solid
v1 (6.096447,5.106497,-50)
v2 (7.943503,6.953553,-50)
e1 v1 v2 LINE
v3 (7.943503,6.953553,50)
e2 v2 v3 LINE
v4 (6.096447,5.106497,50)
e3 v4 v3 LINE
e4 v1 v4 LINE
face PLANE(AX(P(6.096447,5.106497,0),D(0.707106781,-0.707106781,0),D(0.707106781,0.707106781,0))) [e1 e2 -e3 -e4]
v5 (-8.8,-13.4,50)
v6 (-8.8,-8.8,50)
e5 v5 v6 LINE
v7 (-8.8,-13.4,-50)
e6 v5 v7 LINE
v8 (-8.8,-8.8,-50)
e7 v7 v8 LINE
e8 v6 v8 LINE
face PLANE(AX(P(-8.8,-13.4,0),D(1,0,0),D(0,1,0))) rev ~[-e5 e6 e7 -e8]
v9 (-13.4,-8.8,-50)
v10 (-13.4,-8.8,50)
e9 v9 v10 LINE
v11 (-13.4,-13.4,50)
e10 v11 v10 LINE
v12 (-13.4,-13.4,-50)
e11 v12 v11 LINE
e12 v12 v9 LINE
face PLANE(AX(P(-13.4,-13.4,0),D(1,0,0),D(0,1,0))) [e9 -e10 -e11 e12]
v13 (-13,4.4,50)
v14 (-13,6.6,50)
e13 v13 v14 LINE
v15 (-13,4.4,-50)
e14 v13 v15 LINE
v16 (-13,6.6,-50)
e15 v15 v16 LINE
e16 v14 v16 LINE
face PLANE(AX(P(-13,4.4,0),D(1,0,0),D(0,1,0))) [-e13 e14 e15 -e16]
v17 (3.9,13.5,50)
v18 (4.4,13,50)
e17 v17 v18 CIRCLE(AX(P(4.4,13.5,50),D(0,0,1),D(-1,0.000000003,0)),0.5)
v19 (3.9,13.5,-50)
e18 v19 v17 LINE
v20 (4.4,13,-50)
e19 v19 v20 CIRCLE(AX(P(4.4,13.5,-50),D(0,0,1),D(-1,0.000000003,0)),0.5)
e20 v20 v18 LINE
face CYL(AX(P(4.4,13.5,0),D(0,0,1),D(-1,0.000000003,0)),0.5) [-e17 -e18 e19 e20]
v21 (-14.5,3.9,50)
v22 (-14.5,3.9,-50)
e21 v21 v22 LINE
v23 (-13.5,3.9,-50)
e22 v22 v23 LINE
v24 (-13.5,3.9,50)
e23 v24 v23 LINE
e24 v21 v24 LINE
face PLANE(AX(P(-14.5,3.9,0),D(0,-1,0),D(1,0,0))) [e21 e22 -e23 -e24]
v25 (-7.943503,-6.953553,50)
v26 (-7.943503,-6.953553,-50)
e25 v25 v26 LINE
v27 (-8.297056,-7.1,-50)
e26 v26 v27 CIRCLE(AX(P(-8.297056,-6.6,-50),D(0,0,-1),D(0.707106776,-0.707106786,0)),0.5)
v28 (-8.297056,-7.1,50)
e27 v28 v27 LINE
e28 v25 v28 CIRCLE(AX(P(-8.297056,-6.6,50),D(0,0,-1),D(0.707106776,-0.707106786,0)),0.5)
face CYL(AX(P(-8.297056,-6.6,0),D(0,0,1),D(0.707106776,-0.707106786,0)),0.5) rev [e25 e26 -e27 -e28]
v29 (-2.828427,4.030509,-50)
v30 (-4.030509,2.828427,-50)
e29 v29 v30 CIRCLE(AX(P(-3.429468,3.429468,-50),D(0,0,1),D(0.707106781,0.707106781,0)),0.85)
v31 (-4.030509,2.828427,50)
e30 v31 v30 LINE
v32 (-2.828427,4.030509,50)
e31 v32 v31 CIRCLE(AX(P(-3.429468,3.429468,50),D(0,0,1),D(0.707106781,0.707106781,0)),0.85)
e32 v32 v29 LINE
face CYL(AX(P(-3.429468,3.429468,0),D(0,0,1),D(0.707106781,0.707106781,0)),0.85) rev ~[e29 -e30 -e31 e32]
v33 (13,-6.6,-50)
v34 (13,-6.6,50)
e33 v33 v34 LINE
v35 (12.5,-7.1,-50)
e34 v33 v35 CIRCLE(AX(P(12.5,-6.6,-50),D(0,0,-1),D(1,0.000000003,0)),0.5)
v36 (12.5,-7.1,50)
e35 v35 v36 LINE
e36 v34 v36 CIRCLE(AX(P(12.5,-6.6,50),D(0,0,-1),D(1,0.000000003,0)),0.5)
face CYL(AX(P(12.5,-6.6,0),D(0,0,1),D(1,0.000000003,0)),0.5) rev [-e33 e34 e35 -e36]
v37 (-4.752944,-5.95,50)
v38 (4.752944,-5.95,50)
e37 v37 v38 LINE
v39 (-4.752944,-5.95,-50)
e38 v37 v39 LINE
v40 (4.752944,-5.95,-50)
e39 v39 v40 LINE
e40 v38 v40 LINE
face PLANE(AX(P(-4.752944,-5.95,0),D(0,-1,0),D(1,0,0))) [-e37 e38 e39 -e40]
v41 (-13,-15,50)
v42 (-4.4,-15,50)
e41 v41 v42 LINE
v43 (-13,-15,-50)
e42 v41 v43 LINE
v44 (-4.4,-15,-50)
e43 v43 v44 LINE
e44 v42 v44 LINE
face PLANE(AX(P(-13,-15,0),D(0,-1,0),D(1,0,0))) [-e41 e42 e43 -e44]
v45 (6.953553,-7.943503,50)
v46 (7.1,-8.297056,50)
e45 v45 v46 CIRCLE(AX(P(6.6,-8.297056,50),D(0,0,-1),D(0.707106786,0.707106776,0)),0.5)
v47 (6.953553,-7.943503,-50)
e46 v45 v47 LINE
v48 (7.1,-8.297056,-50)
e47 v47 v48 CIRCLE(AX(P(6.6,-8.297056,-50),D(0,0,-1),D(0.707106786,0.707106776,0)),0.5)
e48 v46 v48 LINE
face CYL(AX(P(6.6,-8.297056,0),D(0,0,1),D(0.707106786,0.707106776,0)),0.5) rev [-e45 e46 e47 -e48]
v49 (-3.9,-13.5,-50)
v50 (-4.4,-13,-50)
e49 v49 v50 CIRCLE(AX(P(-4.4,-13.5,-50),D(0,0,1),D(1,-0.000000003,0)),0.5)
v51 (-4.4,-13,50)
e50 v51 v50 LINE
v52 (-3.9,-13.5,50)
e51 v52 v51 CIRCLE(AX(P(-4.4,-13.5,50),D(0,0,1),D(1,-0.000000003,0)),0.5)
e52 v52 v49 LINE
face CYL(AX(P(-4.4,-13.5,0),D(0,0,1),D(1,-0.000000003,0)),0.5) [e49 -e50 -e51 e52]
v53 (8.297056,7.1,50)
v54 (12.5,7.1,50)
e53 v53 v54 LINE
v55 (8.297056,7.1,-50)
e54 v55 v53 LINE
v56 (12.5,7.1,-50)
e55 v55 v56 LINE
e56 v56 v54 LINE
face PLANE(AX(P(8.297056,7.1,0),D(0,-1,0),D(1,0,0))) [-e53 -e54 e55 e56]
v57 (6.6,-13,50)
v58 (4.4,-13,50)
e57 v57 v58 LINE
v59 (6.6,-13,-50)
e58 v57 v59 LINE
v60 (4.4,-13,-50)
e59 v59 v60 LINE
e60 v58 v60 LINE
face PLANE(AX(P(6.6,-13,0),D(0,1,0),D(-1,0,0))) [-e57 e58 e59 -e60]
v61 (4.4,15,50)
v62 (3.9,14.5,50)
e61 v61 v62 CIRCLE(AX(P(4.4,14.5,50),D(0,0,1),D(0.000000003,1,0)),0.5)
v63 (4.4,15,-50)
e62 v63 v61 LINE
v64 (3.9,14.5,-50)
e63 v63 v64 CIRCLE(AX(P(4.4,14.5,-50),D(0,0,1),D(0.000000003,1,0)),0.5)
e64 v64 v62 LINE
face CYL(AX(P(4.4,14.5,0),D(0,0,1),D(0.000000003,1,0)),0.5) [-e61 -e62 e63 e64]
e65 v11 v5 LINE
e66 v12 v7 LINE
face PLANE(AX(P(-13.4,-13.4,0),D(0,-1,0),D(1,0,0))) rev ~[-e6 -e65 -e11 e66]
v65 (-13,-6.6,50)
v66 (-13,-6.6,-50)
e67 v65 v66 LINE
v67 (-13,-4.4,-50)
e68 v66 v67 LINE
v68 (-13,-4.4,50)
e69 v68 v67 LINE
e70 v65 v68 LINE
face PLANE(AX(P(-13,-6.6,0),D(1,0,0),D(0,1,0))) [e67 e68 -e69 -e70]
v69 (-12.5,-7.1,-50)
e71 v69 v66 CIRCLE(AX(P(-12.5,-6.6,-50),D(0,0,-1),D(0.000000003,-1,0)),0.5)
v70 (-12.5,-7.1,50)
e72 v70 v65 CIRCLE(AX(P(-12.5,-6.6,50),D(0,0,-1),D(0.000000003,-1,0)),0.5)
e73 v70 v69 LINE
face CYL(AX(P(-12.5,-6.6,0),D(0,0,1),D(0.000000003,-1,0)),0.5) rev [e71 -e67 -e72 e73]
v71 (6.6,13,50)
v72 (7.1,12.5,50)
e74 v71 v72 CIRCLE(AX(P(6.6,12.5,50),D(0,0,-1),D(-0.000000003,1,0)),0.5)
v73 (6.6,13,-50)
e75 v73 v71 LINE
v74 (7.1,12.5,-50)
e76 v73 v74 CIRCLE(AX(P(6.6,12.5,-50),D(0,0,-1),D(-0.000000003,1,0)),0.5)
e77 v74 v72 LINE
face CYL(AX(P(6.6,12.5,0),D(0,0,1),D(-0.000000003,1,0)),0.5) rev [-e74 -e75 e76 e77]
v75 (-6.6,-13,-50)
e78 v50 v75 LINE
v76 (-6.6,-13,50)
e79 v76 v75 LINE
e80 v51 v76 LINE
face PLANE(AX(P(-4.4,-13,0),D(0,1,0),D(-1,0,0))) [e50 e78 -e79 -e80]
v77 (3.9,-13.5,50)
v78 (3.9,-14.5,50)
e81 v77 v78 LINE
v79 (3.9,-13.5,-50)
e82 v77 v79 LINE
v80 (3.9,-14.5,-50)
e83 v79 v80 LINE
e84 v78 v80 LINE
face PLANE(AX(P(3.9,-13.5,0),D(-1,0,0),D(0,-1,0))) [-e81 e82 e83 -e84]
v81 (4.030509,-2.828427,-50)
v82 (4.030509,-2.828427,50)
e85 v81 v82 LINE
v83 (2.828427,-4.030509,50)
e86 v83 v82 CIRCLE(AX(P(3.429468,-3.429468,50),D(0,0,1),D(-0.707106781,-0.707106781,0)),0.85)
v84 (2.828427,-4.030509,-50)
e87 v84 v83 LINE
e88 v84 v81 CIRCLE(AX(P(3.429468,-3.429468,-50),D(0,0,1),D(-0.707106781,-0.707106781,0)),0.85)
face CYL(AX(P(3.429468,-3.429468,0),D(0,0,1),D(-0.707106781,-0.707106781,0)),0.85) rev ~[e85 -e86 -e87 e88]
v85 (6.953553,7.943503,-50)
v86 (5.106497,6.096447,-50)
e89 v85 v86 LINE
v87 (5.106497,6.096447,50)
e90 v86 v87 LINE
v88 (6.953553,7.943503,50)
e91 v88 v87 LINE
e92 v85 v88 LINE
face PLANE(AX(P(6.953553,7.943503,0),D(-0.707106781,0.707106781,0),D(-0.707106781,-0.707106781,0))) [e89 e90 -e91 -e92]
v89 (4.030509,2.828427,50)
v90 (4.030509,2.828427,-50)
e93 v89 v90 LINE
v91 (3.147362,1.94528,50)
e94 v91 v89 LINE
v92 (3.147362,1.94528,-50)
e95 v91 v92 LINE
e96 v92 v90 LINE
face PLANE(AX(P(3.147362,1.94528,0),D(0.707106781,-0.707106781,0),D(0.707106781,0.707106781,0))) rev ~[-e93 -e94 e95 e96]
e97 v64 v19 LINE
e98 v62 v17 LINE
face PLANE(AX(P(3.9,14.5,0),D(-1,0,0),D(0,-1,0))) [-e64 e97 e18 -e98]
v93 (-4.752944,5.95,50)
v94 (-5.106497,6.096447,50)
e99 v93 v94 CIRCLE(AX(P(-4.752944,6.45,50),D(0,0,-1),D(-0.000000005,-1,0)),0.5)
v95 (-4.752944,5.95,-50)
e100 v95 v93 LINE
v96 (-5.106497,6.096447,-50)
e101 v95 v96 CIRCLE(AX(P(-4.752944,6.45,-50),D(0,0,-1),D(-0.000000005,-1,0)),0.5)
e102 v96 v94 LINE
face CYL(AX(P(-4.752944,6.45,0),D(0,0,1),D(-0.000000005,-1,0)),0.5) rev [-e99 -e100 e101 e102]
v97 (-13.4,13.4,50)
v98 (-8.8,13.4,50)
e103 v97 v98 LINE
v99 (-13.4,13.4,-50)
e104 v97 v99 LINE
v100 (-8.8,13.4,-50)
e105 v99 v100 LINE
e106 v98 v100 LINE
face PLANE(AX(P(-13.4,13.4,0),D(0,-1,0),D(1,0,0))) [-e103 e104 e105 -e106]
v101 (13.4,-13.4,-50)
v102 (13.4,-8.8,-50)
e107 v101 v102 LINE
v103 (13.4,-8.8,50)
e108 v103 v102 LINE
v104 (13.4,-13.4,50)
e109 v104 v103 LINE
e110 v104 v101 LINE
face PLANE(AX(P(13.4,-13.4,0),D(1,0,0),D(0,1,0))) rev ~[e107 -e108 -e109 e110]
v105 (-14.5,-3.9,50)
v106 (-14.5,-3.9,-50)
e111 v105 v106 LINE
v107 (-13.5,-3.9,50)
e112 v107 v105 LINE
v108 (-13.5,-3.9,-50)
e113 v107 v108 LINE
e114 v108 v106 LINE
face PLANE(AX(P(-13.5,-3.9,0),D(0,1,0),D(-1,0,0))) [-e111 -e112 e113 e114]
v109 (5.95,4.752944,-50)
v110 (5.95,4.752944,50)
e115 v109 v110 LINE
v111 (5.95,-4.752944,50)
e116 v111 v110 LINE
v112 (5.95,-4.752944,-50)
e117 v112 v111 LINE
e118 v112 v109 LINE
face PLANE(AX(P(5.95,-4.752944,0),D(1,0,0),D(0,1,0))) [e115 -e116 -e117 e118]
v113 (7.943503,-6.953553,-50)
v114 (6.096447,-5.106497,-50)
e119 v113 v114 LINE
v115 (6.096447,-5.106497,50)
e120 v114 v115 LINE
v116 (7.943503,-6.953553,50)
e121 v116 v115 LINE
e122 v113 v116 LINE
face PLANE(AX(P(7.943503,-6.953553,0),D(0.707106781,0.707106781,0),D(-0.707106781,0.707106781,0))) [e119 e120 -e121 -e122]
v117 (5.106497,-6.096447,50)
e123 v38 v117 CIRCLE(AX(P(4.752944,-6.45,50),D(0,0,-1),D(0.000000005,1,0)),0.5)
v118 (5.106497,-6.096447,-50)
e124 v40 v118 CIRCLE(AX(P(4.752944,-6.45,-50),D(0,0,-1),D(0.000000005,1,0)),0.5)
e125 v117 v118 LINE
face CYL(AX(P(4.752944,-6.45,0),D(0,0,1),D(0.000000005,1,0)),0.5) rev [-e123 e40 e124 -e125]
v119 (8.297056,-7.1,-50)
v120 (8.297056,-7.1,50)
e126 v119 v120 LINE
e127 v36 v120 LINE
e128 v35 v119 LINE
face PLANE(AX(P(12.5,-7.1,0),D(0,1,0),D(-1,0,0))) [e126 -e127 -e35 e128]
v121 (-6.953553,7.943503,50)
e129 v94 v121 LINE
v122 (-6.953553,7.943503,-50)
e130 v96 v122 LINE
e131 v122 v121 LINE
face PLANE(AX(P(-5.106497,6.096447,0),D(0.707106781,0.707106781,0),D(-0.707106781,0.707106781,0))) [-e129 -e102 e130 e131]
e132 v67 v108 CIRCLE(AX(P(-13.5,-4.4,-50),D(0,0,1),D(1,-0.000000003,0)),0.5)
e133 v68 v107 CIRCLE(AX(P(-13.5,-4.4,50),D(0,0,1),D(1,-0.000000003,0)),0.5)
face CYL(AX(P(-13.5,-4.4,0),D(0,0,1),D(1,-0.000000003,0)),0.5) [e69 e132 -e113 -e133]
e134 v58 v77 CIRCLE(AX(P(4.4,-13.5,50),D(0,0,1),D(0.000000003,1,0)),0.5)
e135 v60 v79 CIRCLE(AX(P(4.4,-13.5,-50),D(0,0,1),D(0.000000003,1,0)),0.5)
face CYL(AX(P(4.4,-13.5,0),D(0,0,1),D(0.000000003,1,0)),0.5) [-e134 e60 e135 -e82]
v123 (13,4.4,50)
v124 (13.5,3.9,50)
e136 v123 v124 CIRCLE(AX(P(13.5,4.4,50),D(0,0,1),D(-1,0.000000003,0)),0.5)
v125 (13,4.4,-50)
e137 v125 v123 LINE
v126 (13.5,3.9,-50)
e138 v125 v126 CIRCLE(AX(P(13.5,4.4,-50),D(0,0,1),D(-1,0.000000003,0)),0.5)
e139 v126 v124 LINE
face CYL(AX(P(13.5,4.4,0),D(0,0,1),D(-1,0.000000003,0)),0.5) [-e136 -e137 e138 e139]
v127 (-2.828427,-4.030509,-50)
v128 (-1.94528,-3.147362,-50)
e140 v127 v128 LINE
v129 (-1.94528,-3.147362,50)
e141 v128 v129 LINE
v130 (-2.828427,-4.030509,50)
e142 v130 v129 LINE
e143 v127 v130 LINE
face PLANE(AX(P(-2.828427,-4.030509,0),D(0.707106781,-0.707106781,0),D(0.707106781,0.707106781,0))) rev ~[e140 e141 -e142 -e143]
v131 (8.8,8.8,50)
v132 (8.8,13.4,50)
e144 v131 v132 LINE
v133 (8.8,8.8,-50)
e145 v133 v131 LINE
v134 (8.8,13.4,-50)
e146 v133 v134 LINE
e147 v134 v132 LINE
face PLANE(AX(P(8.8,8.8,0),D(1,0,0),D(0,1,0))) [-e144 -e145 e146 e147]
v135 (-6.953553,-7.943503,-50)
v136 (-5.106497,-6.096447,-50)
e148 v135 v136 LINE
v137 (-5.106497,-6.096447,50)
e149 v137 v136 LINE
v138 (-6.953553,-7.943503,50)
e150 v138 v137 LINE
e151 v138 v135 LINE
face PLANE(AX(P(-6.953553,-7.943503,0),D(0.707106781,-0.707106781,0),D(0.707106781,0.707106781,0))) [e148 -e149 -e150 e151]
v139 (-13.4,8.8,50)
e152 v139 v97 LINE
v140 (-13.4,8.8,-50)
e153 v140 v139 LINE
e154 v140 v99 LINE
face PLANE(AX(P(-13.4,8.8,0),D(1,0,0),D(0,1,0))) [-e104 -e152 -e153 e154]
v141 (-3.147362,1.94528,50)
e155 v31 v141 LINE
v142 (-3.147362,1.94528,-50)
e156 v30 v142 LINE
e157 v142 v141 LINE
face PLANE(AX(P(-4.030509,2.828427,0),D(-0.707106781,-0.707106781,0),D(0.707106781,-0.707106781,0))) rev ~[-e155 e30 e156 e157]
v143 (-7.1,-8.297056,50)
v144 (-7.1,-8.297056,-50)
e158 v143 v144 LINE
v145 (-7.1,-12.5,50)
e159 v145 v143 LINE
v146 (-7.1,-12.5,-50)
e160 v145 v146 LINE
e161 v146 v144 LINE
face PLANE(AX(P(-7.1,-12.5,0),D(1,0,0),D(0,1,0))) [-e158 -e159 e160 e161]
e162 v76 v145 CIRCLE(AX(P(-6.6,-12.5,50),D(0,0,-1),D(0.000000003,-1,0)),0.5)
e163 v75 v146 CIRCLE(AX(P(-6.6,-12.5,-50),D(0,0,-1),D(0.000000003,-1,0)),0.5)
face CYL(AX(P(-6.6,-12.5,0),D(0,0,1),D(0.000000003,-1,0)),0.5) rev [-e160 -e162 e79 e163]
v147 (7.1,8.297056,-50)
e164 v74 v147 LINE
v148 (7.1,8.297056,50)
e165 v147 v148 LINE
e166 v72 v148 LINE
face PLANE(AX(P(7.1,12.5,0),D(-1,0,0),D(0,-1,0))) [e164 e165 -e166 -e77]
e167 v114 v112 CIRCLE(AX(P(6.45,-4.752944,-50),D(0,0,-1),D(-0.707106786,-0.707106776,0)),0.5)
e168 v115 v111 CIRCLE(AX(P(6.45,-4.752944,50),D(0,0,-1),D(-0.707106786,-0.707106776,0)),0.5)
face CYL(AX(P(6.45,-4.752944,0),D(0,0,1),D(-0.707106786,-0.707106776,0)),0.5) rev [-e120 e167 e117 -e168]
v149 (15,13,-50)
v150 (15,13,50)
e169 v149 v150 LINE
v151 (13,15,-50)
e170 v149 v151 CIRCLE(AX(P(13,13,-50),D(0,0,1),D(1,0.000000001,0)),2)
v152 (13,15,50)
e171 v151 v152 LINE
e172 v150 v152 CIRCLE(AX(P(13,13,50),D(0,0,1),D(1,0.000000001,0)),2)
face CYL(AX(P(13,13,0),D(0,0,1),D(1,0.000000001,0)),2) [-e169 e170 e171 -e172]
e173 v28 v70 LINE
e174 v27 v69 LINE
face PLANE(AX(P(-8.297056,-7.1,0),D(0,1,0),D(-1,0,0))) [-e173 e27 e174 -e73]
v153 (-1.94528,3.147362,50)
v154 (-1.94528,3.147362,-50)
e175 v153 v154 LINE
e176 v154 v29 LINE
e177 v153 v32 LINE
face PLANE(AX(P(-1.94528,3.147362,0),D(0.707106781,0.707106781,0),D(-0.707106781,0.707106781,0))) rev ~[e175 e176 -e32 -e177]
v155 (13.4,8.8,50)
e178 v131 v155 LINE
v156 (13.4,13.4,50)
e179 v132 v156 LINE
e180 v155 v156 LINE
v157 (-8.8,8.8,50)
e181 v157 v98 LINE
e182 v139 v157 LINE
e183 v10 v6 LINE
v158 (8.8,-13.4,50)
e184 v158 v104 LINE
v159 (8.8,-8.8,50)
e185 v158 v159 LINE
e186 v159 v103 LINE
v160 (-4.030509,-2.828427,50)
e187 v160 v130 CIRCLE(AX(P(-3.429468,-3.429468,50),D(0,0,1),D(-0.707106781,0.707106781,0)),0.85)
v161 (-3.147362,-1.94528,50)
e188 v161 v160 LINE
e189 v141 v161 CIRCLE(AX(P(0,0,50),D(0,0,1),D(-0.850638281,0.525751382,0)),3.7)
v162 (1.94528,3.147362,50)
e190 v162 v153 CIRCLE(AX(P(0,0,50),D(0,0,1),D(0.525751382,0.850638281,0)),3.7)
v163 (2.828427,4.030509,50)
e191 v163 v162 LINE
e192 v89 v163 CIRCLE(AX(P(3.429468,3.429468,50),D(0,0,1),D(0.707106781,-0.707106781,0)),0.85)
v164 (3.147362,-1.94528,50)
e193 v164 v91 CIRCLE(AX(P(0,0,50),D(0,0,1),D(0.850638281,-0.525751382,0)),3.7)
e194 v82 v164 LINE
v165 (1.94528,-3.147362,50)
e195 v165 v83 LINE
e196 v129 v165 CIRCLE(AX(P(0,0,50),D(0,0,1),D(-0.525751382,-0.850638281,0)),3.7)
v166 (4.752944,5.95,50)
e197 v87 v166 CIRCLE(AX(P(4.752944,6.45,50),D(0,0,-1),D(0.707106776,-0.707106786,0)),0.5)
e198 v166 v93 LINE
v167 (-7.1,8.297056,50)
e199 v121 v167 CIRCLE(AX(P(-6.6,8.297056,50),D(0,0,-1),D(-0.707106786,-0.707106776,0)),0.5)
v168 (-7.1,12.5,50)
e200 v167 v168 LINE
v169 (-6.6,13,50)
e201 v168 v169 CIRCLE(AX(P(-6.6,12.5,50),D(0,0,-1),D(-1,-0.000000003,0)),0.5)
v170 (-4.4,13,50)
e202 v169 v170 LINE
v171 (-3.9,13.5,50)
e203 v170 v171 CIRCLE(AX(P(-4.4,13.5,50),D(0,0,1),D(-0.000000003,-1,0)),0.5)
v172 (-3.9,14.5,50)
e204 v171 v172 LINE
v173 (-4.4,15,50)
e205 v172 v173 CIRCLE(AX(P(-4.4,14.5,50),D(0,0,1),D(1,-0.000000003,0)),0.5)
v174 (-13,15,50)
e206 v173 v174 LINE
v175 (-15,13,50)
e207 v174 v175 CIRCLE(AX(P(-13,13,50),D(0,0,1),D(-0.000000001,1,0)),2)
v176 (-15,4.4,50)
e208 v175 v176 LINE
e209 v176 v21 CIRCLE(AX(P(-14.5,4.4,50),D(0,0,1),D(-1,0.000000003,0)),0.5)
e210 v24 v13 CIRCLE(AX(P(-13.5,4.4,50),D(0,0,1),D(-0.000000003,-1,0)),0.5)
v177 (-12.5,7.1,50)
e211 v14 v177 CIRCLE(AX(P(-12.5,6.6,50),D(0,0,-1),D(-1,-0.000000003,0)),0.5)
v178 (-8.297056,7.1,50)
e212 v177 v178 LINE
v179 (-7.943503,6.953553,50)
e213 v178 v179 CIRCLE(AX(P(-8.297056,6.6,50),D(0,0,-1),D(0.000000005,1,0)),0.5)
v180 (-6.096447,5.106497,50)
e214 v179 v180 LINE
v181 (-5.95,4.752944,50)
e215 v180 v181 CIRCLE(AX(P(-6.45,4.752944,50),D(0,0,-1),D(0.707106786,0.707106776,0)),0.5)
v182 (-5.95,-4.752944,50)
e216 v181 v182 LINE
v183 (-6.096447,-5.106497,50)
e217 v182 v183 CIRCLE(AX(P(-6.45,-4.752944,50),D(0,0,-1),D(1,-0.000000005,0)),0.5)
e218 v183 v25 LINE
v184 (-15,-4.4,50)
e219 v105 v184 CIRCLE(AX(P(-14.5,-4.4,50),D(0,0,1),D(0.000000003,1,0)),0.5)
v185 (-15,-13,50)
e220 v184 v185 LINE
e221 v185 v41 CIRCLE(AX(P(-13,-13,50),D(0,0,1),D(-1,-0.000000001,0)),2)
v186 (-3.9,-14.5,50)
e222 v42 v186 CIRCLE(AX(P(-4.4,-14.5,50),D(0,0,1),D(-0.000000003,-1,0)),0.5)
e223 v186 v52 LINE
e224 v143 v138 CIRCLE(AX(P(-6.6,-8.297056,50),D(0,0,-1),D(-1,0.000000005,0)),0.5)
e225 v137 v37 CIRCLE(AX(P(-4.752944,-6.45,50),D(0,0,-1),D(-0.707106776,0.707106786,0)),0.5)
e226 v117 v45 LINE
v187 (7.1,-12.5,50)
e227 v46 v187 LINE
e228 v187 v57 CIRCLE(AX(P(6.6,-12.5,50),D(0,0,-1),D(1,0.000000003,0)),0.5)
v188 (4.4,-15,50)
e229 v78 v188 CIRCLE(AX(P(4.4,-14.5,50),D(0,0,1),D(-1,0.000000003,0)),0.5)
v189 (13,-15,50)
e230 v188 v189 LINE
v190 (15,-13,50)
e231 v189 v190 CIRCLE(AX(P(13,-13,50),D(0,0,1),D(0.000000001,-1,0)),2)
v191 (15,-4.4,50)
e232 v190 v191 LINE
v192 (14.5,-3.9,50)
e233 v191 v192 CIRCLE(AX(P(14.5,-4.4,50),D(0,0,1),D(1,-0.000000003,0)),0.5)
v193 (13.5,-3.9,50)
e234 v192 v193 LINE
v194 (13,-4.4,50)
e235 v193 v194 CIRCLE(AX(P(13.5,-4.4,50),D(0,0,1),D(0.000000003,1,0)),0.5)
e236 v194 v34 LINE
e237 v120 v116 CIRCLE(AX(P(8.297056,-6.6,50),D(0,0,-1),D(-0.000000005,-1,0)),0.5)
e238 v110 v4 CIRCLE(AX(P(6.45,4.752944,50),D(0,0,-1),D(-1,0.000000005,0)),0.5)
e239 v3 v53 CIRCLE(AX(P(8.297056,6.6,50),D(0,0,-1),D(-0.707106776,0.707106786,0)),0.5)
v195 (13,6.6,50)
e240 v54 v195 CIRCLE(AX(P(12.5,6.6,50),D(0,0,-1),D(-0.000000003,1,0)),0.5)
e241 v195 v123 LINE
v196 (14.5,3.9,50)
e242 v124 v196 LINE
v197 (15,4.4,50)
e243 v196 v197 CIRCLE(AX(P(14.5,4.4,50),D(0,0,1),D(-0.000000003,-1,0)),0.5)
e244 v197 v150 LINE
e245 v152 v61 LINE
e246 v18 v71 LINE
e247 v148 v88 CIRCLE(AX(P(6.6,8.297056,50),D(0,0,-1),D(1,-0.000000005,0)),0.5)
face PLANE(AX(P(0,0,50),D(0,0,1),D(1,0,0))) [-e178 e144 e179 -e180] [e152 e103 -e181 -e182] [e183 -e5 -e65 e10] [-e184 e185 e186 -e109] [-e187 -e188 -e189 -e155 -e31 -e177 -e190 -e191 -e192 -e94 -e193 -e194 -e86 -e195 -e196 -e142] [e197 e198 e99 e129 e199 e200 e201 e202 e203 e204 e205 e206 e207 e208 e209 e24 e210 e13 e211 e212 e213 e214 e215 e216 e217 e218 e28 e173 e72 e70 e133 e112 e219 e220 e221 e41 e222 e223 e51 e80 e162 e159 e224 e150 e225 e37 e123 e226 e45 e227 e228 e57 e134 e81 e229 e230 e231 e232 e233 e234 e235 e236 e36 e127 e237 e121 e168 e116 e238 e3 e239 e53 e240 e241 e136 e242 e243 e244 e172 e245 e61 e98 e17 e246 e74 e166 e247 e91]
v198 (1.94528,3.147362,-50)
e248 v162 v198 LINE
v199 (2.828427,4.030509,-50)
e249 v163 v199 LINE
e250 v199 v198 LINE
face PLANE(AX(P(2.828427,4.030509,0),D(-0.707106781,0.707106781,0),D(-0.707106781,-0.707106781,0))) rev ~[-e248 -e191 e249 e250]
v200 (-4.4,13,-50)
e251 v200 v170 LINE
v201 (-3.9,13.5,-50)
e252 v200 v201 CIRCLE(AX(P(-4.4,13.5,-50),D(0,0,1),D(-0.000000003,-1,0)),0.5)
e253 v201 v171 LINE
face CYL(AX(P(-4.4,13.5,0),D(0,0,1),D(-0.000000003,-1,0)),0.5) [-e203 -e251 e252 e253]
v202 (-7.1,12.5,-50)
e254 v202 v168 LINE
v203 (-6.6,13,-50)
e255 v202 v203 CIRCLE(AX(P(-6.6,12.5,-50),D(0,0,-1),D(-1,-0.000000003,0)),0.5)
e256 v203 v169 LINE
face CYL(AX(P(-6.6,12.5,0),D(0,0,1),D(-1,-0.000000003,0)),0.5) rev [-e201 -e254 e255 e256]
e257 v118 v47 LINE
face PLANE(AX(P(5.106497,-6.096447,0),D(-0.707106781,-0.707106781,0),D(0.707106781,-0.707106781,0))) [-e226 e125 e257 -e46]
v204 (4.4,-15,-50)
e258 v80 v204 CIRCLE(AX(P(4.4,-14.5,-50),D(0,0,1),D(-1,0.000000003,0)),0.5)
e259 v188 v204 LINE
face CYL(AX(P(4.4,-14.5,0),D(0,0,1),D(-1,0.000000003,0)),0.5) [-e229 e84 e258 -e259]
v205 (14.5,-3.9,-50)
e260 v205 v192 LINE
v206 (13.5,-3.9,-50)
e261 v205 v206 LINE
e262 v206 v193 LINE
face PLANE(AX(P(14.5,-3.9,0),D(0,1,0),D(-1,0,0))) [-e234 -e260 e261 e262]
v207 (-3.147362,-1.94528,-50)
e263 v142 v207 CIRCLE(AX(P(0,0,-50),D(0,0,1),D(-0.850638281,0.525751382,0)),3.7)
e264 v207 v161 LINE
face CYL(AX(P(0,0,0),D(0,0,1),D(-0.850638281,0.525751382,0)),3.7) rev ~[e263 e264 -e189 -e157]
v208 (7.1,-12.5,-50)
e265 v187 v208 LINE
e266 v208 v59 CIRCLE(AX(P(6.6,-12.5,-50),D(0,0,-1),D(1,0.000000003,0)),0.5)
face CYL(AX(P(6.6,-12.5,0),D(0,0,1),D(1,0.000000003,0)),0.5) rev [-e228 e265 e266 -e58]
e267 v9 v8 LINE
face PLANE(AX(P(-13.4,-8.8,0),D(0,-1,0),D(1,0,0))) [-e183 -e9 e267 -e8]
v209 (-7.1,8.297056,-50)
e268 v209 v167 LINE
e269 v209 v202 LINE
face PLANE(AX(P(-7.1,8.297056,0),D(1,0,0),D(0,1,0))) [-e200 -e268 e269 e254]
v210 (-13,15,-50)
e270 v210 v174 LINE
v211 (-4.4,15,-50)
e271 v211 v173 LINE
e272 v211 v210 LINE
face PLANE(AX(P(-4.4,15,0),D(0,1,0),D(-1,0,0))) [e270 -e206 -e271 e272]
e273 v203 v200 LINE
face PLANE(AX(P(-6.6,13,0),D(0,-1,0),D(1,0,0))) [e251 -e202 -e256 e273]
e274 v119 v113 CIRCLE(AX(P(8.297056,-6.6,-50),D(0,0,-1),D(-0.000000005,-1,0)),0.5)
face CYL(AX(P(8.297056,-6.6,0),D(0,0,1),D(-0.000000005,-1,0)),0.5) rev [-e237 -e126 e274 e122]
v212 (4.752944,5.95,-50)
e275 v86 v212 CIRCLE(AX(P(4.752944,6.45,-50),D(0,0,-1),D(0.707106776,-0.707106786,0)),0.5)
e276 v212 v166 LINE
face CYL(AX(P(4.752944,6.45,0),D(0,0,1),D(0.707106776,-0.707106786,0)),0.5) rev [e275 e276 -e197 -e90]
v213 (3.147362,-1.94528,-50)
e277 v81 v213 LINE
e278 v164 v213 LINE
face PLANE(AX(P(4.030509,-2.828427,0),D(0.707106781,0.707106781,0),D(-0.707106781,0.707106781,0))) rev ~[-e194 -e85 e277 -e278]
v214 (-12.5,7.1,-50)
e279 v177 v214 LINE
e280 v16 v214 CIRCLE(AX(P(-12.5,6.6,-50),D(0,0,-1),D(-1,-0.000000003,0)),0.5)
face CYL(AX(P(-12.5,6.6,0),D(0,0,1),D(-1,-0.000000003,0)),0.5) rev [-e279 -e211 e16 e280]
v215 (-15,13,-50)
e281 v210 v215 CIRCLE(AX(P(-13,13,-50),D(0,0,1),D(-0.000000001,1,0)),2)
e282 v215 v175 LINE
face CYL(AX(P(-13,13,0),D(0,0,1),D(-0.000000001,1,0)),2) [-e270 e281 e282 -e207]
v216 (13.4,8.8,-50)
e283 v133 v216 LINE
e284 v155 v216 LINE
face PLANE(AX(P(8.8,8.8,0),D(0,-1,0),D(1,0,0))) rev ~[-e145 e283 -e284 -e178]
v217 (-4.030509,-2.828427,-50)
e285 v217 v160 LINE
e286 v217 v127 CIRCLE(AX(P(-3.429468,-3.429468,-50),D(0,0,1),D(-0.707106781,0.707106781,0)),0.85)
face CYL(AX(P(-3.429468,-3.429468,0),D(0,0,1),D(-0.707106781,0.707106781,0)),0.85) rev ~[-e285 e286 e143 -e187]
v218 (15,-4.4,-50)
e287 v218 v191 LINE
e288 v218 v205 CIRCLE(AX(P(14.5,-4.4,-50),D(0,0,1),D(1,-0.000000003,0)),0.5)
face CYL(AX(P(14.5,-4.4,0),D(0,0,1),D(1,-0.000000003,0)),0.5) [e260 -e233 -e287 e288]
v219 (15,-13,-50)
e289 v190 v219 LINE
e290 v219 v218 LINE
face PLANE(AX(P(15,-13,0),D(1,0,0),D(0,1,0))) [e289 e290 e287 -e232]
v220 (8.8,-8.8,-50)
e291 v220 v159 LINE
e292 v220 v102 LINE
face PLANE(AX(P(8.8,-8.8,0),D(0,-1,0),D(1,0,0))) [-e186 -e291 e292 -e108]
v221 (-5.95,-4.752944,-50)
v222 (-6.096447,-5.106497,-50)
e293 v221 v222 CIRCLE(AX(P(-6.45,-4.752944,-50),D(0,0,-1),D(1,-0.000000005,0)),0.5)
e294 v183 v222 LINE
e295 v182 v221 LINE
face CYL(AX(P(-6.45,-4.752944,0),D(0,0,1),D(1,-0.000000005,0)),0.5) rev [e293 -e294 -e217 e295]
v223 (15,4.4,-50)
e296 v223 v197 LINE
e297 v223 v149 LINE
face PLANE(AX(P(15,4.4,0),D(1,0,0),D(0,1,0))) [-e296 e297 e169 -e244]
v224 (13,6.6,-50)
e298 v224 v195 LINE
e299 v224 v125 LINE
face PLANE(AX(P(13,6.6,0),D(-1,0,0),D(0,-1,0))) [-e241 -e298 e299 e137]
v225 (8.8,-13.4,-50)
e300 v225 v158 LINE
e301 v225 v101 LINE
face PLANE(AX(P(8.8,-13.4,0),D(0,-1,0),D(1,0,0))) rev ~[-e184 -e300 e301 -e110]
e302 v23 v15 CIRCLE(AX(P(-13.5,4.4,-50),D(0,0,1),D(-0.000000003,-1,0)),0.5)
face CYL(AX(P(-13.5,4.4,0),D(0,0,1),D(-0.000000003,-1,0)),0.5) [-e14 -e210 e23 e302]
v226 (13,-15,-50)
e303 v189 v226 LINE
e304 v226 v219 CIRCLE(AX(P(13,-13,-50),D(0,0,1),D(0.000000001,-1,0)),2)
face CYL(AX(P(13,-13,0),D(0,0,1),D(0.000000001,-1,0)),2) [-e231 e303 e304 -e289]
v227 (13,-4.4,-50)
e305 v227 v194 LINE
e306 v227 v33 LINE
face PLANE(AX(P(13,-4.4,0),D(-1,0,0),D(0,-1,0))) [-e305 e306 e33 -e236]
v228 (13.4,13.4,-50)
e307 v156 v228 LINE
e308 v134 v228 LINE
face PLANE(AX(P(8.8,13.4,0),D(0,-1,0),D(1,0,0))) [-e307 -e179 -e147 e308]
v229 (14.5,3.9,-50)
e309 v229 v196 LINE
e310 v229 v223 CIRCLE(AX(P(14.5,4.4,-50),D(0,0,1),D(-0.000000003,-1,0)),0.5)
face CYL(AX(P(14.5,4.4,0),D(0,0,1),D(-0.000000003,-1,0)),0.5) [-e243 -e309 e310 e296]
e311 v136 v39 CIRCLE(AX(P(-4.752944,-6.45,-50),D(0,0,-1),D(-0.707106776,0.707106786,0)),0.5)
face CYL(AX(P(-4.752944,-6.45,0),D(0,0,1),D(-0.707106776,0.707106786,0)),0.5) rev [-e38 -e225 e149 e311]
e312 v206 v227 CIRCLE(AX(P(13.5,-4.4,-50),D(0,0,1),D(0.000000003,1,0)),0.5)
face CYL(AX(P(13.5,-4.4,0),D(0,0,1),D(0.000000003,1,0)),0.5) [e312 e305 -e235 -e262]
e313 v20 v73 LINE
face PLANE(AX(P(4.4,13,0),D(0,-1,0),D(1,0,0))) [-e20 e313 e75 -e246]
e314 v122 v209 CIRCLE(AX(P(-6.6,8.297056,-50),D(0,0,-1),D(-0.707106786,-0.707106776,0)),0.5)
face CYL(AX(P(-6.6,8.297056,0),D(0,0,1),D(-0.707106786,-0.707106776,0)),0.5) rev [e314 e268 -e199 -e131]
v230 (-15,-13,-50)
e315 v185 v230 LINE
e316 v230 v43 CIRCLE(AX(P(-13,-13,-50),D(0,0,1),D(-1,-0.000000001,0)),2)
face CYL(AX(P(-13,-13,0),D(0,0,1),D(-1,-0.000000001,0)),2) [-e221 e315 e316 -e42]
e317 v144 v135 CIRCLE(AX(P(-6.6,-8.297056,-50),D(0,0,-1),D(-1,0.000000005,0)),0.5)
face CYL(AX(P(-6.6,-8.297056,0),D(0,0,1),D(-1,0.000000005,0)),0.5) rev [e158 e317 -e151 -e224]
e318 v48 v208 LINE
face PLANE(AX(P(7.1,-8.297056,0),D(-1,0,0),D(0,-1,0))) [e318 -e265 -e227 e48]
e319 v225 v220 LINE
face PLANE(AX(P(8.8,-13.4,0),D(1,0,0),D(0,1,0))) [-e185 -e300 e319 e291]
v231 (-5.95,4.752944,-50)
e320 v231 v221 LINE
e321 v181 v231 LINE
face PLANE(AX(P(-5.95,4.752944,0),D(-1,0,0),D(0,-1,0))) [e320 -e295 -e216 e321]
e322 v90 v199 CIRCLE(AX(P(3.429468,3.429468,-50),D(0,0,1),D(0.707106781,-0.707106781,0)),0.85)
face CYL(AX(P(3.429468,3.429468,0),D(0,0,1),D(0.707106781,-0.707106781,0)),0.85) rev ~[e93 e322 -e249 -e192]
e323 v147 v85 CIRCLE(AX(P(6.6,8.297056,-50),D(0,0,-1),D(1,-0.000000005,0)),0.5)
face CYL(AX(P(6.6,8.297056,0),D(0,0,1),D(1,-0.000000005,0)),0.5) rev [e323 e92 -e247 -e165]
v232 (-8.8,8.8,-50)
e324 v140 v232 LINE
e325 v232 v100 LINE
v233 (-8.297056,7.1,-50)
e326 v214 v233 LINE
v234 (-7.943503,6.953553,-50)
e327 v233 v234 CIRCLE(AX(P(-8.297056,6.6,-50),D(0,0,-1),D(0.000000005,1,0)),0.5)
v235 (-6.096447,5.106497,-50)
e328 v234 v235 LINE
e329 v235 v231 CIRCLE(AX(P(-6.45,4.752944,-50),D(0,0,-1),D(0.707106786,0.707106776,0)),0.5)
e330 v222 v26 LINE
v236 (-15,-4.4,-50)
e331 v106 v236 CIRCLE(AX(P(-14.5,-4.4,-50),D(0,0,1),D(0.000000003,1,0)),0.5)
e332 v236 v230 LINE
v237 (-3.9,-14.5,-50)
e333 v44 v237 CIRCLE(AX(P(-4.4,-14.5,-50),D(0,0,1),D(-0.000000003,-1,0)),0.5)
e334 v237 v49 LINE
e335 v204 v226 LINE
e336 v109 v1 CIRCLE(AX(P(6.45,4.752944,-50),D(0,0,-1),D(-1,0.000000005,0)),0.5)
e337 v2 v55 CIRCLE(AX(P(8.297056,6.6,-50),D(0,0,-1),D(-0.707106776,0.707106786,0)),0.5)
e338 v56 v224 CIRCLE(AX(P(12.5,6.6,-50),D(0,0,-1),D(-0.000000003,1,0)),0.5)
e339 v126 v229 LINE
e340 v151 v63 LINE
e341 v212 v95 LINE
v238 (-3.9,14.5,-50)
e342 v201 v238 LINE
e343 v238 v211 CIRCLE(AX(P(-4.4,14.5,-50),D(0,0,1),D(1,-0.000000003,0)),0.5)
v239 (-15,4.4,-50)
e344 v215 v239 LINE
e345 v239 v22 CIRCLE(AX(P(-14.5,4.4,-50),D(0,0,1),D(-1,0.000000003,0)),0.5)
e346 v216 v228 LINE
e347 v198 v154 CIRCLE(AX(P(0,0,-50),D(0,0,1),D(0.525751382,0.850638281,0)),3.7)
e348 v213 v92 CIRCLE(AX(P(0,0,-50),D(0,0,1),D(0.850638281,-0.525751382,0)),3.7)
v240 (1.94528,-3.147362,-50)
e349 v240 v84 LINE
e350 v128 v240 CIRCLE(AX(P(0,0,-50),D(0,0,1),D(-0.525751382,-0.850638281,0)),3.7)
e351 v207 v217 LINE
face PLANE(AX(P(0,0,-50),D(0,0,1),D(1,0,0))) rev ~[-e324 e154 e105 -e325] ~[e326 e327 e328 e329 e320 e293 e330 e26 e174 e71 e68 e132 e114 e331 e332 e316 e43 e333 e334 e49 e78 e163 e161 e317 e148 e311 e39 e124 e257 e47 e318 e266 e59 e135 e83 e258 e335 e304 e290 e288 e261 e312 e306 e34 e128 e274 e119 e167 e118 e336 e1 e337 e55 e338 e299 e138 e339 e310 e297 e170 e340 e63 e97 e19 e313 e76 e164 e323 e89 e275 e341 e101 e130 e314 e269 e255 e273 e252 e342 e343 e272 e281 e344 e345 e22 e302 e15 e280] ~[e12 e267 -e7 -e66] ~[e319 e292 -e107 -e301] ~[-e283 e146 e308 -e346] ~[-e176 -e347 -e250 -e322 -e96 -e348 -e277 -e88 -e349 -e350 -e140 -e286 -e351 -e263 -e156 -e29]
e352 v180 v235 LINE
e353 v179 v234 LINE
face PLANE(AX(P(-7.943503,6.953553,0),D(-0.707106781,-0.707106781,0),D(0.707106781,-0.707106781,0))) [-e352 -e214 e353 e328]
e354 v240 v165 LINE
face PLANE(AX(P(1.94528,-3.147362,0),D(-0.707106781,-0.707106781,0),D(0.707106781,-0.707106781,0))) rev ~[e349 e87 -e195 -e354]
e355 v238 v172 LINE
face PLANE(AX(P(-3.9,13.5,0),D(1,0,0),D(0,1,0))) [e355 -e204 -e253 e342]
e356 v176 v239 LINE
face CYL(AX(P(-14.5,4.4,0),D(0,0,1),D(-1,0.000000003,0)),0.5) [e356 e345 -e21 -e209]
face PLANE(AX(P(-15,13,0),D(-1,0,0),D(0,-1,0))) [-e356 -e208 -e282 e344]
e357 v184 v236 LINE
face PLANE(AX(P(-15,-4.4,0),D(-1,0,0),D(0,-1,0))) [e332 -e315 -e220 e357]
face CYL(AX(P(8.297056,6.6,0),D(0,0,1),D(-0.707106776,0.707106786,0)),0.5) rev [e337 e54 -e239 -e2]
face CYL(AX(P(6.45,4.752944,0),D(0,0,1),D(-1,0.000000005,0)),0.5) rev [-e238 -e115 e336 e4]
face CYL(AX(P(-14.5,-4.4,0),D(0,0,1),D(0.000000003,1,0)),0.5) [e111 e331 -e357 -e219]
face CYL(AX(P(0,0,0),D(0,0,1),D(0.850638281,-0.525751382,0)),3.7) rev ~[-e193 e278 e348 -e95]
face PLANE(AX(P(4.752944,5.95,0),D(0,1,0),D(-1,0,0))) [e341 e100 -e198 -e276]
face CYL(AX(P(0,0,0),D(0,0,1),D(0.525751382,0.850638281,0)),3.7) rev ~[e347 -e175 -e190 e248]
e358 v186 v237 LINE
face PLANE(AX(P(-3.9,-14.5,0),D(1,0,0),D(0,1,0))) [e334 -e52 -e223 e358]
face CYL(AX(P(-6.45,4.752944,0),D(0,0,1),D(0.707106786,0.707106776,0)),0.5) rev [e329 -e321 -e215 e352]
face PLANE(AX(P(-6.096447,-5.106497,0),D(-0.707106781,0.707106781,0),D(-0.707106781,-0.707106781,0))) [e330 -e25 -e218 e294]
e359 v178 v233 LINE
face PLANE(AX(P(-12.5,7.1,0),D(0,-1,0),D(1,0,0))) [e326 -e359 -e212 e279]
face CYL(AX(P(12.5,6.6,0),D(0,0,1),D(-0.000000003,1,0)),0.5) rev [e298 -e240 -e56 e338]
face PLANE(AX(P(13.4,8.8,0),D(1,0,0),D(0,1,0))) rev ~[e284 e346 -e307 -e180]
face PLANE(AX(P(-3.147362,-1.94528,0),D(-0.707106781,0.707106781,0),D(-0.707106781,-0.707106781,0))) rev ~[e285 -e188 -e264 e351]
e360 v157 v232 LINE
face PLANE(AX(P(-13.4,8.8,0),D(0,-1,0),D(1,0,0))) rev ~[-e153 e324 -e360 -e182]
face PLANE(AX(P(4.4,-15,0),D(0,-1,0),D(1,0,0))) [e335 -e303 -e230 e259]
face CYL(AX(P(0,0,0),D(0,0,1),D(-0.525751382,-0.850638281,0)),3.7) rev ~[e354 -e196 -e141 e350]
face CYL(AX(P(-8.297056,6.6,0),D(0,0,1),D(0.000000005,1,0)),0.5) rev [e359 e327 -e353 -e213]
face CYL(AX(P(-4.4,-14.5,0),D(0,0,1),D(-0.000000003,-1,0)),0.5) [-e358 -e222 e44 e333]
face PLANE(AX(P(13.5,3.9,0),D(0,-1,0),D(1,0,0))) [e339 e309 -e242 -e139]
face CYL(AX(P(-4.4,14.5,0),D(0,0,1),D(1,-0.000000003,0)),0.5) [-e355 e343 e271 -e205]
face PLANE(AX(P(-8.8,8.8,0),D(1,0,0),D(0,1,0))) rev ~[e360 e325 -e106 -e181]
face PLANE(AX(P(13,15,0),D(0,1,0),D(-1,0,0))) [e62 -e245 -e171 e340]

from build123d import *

# Parameters (mm, degrees)
SKETCH1_W           = 4.6
SKETCH1_H           = 4.6
BOSS_EXTRUDE1_DEPTH = 50


with BuildPart() as part:
    # Sketch1 → Boss-Extrude1 (new body, symmetric)
    with BuildSketch(Plane.XY):
        with BuildLine():
            Line((15, -13), (15, -4.4))
            ThreePointArc((15, -4.4), (14.853553391, -4.046446609), (14.5, -3.9))
            Line((14.5, -3.9), (13.5, -3.9))
            ThreePointArc((13.5, -3.9), (13.146446609, -4.046446609), (13, -4.4))
            Line((13, -4.4), (13, -6.6))
            ThreePointArc((13, -6.6), (12.853553391, -6.953553391), (12.5, -7.1))
            Line((12.5, -7.1), (8.297056275, -7.1))
            ThreePointArc((8.297056275, -7.1), (8.105714559, -7.061939766), (7.943502884, -6.953553391))
            Line((7.943502884, -6.953553391), (6.096446609, -5.106497116))
            ThreePointArc((6.096446609, -5.106497116), (5.988060234, -4.944285441), (5.95, -4.752943725))
            Line((5.95, -4.752943725), (5.95, 4.752943725))
            ThreePointArc((5.95, 4.752943725), (5.988060234, 4.944285441), (6.096446609, 5.106497116))
            Line((6.096446609, 5.106497116), (7.943502884, 6.953553391))
            ThreePointArc((7.943502884, 6.953553391), (8.105714559, 7.061939766), (8.297056275, 7.1))
            Line((8.297056275, 7.1), (12.5, 7.1))
            ThreePointArc((12.5, 7.1), (12.853553391, 6.953553391), (13, 6.6))
            Line((13, 6.6), (13, 4.4))
            ThreePointArc((13, 4.4), (13.146446609, 4.046446609), (13.5, 3.9))
            Line((13.5, 3.9), (14.5, 3.9))
            ThreePointArc((14.5, 3.9), (14.853553391, 4.046446609), (15, 4.4))
            Line((15, 4.4), (15, 13))
            ThreePointArc((15, 13), (14.414213562, 14.414213562), (13, 15))
            Line((13, 15), (4.4, 15))
            ThreePointArc((4.4, 15), (4.046446609, 14.853553391), (3.9, 14.5))
            Line((3.9, 14.5), (3.9, 13.5))
            ThreePointArc((3.9, 13.5), (4.046446609, 13.146446609), (4.4, 13))
            Line((4.4, 13), (6.6, 13))
            ThreePointArc((6.6, 13), (6.953553391, 12.853553391), (7.1, 12.5))
            Line((7.1, 12.5), (7.1, 8.297056275))
            ThreePointArc((7.1, 8.297056275), (7.061939766, 8.105714559), (6.953553391, 7.943502884))
            Line((6.953553391, 7.943502884), (5.106497116, 6.096446609))
            ThreePointArc((5.106497116, 6.096446609), (4.944285441, 5.988060234), (4.752943725, 5.95))
            Line((4.752943725, 5.95), (-4.752943725, 5.95))
            ThreePointArc((-4.752943725, 5.95), (-4.944285441, 5.988060234), (-5.106497116, 6.096446609))
            Line((-5.106497116, 6.096446609), (-6.953553391, 7.943502884))
            ThreePointArc((-6.953553391, 7.943502884), (-7.061939766, 8.105714559), (-7.1, 8.297056275))
            Line((-7.1, 8.297056275), (-7.1, 12.5))
            ThreePointArc((-7.1, 12.5), (-6.953553391, 12.853553391), (-6.6, 13))
            Line((-6.6, 13), (-4.4, 13))
            ThreePointArc((-4.4, 13), (-4.046446609, 13.146446609), (-3.9, 13.5))
            Line((-3.9, 13.5), (-3.9, 14.5))
            ThreePointArc((-3.9, 14.5), (-4.046446609, 14.853553391), (-4.4, 15))
            Line((-4.4, 15), (-13, 15))
            ThreePointArc((-13, 15), (-14.414213562, 14.414213562), (-15, 13))
            Line((-15, 13), (-15, 4.4))
            ThreePointArc((-15, 4.4), (-14.853553391, 4.046446609), (-14.5, 3.9))
            Line((-14.5, 3.9), (-13.5, 3.9))
            ThreePointArc((-13.5, 3.9), (-13.146446609, 4.046446609), (-13, 4.4))
            Line((-13, 4.4), (-13, 6.6))
            ThreePointArc((-13, 6.6), (-12.853553391, 6.953553391), (-12.5, 7.1))
            Line((-12.5, 7.1), (-8.297056275, 7.1))
            ThreePointArc((-8.297056275, 7.1), (-8.105714559, 7.061939766), (-7.943502884, 6.953553391))
            Line((-7.943502884, 6.953553391), (-6.096446609, 5.106497116))
            ThreePointArc((-6.096446609, 5.106497116), (-5.988060234, 4.944285441), (-5.95, 4.752943725))
            Line((-5.95, 4.752943725), (-5.95, -4.752943725))
            ThreePointArc((-5.95, -4.752943725), (-5.988060234, -4.944285441), (-6.096446609, -5.106497116))
            Line((-6.096446609, -5.106497116), (-7.943502884, -6.953553391))
            ThreePointArc((-7.943502884, -6.953553391), (-8.105714559, -7.061939766), (-8.297056275, -7.1))
            Line((-8.297056275, -7.1), (-12.5, -7.1))
            ThreePointArc((-12.5, -7.1), (-12.853553391, -6.953553391), (-13, -6.6))
            Line((-13, -6.6), (-13, -4.4))
            ThreePointArc((-13, -4.4), (-13.146446609, -4.046446609), (-13.5, -3.9))
            Line((-13.5, -3.9), (-14.5, -3.9))
            ThreePointArc((-14.5, -3.9), (-14.853553391, -4.046446609), (-15, -4.4))
            Line((-15, -4.4), (-15, -13))
            ThreePointArc((-15, -13), (-14.414213562, -14.414213562), (-13, -15))
            Line((-13, -15), (-4.4, -15))
            ThreePointArc((-4.4, -15), (-4.046446609, -14.853553391), (-3.9, -14.5))
            Line((-3.9, -14.5), (-3.9, -13.5))
            ThreePointArc((-3.9, -13.5), (-4.046446609, -13.146446609), (-4.4, -13))
            Line((-4.4, -13), (-6.6, -13))
            ThreePointArc((-6.6, -13), (-6.953553391, -12.853553391), (-7.1, -12.5))
            Line((-7.1, -12.5), (-7.1, -8.297056275))
            ThreePointArc((-7.1, -8.297056275), (-7.061939766, -8.105714559), (-6.953553391, -7.943502884))
            Line((-6.953553391, -7.943502884), (-5.106497116, -6.096446609))
            ThreePointArc((-5.106497116, -6.096446609), (-4.944285441, -5.988060234), (-4.752943725, -5.95))
            Line((-4.752943725, -5.95), (4.752943725, -5.95))
            ThreePointArc((4.752943725, -5.95), (4.944285441, -5.988060234), (5.106497116, -6.096446609))
            Line((5.106497116, -6.096446609), (6.953553391, -7.943502884))
            ThreePointArc((6.953553391, -7.943502884), (7.061939766, -8.105714559), (7.1, -8.297056275))
            Line((7.1, -8.297056275), (7.1, -12.5))
            ThreePointArc((7.1, -12.5), (6.953553391, -12.853553391), (6.6, -13))
            Line((6.6, -13), (4.4, -13))
            ThreePointArc((4.4, -13), (4.046446609, -13.146446609), (3.9, -13.5))
            Line((3.9, -13.5), (3.9, -14.5))
            ThreePointArc((3.9, -14.5), (4.046446609, -14.853553391), (4.4, -15))
            Line((4.4, -15), (13, -15))
            ThreePointArc((13, -15), (14.414213562, -14.414213562), (15, -13))
        make_face()
        with Locations((-11.1, -11.1)):
            Rectangle(SKETCH1_W, SKETCH1_H, mode=Mode.SUBTRACT)
        with Locations((11.1, -11.1)):
            Rectangle(SKETCH1_W, SKETCH1_H, mode=Mode.SUBTRACT)
        with Locations((11.1, 11.1)):
            Rectangle(SKETCH1_W, SKETCH1_H, mode=Mode.SUBTRACT)
        with BuildLine():
            Line((4.030508653, -2.828427125), (3.147361639, -1.945280111))
            ThreePointArc((3.147361639, -1.945280111), (3.7, 0), (3.147361639, 1.945280111))
            Line((3.147361639, 1.945280111), (4.030508653, 2.828427125))
            ThreePointArc((4.030508653, 2.828427125), (4.030508653, 4.030508653), (2.828427125, 4.030508653))
            Line((2.828427125, 4.030508653), (1.945280111, 3.147361639))
            ThreePointArc((1.945280111, 3.147361639), (0, 3.7), (-1.945280111, 3.147361639))
            Line((-1.945280111, 3.147361639), (-2.828427125, 4.030508653))
            ThreePointArc((-2.828427125, 4.030508653), (-4.030508653, 4.030508653), (-4.030508653, 2.828427125))
            Line((-4.030508653, 2.828427125), (-3.147361639, 1.945280111))
            ThreePointArc((-3.147361639, 1.945280111), (-3.7, 0), (-3.147361639, -1.945280111))
            Line((-3.147361639, -1.945280111), (-4.030508653, -2.828427125))
            ThreePointArc((-4.030508653, -2.828427125), (-4.030508653, -4.030508653), (-2.828427125, -4.030508653))
            Line((-2.828427125, -4.030508653), (-1.945280111, -3.147361639))
            ThreePointArc((-1.945280111, -3.147361639), (0, -3.7), (1.945280111, -3.147361639))
            Line((1.945280111, -3.147361639), (2.828427125, -4.030508653))
            ThreePointArc((2.828427125, -4.030508653), (4.030508653, -4.030508653), (4.030508653, -2.828427125))
        make_face(mode=Mode.SUBTRACT)
        with Locations((-11.1, 11.1)):
            Rectangle(SKETCH1_W, SKETCH1_H, mode=Mode.SUBTRACT)
    extrude(amount=BOSS_EXTRUDE1_DEPTH, both=True)


solid = part.part
